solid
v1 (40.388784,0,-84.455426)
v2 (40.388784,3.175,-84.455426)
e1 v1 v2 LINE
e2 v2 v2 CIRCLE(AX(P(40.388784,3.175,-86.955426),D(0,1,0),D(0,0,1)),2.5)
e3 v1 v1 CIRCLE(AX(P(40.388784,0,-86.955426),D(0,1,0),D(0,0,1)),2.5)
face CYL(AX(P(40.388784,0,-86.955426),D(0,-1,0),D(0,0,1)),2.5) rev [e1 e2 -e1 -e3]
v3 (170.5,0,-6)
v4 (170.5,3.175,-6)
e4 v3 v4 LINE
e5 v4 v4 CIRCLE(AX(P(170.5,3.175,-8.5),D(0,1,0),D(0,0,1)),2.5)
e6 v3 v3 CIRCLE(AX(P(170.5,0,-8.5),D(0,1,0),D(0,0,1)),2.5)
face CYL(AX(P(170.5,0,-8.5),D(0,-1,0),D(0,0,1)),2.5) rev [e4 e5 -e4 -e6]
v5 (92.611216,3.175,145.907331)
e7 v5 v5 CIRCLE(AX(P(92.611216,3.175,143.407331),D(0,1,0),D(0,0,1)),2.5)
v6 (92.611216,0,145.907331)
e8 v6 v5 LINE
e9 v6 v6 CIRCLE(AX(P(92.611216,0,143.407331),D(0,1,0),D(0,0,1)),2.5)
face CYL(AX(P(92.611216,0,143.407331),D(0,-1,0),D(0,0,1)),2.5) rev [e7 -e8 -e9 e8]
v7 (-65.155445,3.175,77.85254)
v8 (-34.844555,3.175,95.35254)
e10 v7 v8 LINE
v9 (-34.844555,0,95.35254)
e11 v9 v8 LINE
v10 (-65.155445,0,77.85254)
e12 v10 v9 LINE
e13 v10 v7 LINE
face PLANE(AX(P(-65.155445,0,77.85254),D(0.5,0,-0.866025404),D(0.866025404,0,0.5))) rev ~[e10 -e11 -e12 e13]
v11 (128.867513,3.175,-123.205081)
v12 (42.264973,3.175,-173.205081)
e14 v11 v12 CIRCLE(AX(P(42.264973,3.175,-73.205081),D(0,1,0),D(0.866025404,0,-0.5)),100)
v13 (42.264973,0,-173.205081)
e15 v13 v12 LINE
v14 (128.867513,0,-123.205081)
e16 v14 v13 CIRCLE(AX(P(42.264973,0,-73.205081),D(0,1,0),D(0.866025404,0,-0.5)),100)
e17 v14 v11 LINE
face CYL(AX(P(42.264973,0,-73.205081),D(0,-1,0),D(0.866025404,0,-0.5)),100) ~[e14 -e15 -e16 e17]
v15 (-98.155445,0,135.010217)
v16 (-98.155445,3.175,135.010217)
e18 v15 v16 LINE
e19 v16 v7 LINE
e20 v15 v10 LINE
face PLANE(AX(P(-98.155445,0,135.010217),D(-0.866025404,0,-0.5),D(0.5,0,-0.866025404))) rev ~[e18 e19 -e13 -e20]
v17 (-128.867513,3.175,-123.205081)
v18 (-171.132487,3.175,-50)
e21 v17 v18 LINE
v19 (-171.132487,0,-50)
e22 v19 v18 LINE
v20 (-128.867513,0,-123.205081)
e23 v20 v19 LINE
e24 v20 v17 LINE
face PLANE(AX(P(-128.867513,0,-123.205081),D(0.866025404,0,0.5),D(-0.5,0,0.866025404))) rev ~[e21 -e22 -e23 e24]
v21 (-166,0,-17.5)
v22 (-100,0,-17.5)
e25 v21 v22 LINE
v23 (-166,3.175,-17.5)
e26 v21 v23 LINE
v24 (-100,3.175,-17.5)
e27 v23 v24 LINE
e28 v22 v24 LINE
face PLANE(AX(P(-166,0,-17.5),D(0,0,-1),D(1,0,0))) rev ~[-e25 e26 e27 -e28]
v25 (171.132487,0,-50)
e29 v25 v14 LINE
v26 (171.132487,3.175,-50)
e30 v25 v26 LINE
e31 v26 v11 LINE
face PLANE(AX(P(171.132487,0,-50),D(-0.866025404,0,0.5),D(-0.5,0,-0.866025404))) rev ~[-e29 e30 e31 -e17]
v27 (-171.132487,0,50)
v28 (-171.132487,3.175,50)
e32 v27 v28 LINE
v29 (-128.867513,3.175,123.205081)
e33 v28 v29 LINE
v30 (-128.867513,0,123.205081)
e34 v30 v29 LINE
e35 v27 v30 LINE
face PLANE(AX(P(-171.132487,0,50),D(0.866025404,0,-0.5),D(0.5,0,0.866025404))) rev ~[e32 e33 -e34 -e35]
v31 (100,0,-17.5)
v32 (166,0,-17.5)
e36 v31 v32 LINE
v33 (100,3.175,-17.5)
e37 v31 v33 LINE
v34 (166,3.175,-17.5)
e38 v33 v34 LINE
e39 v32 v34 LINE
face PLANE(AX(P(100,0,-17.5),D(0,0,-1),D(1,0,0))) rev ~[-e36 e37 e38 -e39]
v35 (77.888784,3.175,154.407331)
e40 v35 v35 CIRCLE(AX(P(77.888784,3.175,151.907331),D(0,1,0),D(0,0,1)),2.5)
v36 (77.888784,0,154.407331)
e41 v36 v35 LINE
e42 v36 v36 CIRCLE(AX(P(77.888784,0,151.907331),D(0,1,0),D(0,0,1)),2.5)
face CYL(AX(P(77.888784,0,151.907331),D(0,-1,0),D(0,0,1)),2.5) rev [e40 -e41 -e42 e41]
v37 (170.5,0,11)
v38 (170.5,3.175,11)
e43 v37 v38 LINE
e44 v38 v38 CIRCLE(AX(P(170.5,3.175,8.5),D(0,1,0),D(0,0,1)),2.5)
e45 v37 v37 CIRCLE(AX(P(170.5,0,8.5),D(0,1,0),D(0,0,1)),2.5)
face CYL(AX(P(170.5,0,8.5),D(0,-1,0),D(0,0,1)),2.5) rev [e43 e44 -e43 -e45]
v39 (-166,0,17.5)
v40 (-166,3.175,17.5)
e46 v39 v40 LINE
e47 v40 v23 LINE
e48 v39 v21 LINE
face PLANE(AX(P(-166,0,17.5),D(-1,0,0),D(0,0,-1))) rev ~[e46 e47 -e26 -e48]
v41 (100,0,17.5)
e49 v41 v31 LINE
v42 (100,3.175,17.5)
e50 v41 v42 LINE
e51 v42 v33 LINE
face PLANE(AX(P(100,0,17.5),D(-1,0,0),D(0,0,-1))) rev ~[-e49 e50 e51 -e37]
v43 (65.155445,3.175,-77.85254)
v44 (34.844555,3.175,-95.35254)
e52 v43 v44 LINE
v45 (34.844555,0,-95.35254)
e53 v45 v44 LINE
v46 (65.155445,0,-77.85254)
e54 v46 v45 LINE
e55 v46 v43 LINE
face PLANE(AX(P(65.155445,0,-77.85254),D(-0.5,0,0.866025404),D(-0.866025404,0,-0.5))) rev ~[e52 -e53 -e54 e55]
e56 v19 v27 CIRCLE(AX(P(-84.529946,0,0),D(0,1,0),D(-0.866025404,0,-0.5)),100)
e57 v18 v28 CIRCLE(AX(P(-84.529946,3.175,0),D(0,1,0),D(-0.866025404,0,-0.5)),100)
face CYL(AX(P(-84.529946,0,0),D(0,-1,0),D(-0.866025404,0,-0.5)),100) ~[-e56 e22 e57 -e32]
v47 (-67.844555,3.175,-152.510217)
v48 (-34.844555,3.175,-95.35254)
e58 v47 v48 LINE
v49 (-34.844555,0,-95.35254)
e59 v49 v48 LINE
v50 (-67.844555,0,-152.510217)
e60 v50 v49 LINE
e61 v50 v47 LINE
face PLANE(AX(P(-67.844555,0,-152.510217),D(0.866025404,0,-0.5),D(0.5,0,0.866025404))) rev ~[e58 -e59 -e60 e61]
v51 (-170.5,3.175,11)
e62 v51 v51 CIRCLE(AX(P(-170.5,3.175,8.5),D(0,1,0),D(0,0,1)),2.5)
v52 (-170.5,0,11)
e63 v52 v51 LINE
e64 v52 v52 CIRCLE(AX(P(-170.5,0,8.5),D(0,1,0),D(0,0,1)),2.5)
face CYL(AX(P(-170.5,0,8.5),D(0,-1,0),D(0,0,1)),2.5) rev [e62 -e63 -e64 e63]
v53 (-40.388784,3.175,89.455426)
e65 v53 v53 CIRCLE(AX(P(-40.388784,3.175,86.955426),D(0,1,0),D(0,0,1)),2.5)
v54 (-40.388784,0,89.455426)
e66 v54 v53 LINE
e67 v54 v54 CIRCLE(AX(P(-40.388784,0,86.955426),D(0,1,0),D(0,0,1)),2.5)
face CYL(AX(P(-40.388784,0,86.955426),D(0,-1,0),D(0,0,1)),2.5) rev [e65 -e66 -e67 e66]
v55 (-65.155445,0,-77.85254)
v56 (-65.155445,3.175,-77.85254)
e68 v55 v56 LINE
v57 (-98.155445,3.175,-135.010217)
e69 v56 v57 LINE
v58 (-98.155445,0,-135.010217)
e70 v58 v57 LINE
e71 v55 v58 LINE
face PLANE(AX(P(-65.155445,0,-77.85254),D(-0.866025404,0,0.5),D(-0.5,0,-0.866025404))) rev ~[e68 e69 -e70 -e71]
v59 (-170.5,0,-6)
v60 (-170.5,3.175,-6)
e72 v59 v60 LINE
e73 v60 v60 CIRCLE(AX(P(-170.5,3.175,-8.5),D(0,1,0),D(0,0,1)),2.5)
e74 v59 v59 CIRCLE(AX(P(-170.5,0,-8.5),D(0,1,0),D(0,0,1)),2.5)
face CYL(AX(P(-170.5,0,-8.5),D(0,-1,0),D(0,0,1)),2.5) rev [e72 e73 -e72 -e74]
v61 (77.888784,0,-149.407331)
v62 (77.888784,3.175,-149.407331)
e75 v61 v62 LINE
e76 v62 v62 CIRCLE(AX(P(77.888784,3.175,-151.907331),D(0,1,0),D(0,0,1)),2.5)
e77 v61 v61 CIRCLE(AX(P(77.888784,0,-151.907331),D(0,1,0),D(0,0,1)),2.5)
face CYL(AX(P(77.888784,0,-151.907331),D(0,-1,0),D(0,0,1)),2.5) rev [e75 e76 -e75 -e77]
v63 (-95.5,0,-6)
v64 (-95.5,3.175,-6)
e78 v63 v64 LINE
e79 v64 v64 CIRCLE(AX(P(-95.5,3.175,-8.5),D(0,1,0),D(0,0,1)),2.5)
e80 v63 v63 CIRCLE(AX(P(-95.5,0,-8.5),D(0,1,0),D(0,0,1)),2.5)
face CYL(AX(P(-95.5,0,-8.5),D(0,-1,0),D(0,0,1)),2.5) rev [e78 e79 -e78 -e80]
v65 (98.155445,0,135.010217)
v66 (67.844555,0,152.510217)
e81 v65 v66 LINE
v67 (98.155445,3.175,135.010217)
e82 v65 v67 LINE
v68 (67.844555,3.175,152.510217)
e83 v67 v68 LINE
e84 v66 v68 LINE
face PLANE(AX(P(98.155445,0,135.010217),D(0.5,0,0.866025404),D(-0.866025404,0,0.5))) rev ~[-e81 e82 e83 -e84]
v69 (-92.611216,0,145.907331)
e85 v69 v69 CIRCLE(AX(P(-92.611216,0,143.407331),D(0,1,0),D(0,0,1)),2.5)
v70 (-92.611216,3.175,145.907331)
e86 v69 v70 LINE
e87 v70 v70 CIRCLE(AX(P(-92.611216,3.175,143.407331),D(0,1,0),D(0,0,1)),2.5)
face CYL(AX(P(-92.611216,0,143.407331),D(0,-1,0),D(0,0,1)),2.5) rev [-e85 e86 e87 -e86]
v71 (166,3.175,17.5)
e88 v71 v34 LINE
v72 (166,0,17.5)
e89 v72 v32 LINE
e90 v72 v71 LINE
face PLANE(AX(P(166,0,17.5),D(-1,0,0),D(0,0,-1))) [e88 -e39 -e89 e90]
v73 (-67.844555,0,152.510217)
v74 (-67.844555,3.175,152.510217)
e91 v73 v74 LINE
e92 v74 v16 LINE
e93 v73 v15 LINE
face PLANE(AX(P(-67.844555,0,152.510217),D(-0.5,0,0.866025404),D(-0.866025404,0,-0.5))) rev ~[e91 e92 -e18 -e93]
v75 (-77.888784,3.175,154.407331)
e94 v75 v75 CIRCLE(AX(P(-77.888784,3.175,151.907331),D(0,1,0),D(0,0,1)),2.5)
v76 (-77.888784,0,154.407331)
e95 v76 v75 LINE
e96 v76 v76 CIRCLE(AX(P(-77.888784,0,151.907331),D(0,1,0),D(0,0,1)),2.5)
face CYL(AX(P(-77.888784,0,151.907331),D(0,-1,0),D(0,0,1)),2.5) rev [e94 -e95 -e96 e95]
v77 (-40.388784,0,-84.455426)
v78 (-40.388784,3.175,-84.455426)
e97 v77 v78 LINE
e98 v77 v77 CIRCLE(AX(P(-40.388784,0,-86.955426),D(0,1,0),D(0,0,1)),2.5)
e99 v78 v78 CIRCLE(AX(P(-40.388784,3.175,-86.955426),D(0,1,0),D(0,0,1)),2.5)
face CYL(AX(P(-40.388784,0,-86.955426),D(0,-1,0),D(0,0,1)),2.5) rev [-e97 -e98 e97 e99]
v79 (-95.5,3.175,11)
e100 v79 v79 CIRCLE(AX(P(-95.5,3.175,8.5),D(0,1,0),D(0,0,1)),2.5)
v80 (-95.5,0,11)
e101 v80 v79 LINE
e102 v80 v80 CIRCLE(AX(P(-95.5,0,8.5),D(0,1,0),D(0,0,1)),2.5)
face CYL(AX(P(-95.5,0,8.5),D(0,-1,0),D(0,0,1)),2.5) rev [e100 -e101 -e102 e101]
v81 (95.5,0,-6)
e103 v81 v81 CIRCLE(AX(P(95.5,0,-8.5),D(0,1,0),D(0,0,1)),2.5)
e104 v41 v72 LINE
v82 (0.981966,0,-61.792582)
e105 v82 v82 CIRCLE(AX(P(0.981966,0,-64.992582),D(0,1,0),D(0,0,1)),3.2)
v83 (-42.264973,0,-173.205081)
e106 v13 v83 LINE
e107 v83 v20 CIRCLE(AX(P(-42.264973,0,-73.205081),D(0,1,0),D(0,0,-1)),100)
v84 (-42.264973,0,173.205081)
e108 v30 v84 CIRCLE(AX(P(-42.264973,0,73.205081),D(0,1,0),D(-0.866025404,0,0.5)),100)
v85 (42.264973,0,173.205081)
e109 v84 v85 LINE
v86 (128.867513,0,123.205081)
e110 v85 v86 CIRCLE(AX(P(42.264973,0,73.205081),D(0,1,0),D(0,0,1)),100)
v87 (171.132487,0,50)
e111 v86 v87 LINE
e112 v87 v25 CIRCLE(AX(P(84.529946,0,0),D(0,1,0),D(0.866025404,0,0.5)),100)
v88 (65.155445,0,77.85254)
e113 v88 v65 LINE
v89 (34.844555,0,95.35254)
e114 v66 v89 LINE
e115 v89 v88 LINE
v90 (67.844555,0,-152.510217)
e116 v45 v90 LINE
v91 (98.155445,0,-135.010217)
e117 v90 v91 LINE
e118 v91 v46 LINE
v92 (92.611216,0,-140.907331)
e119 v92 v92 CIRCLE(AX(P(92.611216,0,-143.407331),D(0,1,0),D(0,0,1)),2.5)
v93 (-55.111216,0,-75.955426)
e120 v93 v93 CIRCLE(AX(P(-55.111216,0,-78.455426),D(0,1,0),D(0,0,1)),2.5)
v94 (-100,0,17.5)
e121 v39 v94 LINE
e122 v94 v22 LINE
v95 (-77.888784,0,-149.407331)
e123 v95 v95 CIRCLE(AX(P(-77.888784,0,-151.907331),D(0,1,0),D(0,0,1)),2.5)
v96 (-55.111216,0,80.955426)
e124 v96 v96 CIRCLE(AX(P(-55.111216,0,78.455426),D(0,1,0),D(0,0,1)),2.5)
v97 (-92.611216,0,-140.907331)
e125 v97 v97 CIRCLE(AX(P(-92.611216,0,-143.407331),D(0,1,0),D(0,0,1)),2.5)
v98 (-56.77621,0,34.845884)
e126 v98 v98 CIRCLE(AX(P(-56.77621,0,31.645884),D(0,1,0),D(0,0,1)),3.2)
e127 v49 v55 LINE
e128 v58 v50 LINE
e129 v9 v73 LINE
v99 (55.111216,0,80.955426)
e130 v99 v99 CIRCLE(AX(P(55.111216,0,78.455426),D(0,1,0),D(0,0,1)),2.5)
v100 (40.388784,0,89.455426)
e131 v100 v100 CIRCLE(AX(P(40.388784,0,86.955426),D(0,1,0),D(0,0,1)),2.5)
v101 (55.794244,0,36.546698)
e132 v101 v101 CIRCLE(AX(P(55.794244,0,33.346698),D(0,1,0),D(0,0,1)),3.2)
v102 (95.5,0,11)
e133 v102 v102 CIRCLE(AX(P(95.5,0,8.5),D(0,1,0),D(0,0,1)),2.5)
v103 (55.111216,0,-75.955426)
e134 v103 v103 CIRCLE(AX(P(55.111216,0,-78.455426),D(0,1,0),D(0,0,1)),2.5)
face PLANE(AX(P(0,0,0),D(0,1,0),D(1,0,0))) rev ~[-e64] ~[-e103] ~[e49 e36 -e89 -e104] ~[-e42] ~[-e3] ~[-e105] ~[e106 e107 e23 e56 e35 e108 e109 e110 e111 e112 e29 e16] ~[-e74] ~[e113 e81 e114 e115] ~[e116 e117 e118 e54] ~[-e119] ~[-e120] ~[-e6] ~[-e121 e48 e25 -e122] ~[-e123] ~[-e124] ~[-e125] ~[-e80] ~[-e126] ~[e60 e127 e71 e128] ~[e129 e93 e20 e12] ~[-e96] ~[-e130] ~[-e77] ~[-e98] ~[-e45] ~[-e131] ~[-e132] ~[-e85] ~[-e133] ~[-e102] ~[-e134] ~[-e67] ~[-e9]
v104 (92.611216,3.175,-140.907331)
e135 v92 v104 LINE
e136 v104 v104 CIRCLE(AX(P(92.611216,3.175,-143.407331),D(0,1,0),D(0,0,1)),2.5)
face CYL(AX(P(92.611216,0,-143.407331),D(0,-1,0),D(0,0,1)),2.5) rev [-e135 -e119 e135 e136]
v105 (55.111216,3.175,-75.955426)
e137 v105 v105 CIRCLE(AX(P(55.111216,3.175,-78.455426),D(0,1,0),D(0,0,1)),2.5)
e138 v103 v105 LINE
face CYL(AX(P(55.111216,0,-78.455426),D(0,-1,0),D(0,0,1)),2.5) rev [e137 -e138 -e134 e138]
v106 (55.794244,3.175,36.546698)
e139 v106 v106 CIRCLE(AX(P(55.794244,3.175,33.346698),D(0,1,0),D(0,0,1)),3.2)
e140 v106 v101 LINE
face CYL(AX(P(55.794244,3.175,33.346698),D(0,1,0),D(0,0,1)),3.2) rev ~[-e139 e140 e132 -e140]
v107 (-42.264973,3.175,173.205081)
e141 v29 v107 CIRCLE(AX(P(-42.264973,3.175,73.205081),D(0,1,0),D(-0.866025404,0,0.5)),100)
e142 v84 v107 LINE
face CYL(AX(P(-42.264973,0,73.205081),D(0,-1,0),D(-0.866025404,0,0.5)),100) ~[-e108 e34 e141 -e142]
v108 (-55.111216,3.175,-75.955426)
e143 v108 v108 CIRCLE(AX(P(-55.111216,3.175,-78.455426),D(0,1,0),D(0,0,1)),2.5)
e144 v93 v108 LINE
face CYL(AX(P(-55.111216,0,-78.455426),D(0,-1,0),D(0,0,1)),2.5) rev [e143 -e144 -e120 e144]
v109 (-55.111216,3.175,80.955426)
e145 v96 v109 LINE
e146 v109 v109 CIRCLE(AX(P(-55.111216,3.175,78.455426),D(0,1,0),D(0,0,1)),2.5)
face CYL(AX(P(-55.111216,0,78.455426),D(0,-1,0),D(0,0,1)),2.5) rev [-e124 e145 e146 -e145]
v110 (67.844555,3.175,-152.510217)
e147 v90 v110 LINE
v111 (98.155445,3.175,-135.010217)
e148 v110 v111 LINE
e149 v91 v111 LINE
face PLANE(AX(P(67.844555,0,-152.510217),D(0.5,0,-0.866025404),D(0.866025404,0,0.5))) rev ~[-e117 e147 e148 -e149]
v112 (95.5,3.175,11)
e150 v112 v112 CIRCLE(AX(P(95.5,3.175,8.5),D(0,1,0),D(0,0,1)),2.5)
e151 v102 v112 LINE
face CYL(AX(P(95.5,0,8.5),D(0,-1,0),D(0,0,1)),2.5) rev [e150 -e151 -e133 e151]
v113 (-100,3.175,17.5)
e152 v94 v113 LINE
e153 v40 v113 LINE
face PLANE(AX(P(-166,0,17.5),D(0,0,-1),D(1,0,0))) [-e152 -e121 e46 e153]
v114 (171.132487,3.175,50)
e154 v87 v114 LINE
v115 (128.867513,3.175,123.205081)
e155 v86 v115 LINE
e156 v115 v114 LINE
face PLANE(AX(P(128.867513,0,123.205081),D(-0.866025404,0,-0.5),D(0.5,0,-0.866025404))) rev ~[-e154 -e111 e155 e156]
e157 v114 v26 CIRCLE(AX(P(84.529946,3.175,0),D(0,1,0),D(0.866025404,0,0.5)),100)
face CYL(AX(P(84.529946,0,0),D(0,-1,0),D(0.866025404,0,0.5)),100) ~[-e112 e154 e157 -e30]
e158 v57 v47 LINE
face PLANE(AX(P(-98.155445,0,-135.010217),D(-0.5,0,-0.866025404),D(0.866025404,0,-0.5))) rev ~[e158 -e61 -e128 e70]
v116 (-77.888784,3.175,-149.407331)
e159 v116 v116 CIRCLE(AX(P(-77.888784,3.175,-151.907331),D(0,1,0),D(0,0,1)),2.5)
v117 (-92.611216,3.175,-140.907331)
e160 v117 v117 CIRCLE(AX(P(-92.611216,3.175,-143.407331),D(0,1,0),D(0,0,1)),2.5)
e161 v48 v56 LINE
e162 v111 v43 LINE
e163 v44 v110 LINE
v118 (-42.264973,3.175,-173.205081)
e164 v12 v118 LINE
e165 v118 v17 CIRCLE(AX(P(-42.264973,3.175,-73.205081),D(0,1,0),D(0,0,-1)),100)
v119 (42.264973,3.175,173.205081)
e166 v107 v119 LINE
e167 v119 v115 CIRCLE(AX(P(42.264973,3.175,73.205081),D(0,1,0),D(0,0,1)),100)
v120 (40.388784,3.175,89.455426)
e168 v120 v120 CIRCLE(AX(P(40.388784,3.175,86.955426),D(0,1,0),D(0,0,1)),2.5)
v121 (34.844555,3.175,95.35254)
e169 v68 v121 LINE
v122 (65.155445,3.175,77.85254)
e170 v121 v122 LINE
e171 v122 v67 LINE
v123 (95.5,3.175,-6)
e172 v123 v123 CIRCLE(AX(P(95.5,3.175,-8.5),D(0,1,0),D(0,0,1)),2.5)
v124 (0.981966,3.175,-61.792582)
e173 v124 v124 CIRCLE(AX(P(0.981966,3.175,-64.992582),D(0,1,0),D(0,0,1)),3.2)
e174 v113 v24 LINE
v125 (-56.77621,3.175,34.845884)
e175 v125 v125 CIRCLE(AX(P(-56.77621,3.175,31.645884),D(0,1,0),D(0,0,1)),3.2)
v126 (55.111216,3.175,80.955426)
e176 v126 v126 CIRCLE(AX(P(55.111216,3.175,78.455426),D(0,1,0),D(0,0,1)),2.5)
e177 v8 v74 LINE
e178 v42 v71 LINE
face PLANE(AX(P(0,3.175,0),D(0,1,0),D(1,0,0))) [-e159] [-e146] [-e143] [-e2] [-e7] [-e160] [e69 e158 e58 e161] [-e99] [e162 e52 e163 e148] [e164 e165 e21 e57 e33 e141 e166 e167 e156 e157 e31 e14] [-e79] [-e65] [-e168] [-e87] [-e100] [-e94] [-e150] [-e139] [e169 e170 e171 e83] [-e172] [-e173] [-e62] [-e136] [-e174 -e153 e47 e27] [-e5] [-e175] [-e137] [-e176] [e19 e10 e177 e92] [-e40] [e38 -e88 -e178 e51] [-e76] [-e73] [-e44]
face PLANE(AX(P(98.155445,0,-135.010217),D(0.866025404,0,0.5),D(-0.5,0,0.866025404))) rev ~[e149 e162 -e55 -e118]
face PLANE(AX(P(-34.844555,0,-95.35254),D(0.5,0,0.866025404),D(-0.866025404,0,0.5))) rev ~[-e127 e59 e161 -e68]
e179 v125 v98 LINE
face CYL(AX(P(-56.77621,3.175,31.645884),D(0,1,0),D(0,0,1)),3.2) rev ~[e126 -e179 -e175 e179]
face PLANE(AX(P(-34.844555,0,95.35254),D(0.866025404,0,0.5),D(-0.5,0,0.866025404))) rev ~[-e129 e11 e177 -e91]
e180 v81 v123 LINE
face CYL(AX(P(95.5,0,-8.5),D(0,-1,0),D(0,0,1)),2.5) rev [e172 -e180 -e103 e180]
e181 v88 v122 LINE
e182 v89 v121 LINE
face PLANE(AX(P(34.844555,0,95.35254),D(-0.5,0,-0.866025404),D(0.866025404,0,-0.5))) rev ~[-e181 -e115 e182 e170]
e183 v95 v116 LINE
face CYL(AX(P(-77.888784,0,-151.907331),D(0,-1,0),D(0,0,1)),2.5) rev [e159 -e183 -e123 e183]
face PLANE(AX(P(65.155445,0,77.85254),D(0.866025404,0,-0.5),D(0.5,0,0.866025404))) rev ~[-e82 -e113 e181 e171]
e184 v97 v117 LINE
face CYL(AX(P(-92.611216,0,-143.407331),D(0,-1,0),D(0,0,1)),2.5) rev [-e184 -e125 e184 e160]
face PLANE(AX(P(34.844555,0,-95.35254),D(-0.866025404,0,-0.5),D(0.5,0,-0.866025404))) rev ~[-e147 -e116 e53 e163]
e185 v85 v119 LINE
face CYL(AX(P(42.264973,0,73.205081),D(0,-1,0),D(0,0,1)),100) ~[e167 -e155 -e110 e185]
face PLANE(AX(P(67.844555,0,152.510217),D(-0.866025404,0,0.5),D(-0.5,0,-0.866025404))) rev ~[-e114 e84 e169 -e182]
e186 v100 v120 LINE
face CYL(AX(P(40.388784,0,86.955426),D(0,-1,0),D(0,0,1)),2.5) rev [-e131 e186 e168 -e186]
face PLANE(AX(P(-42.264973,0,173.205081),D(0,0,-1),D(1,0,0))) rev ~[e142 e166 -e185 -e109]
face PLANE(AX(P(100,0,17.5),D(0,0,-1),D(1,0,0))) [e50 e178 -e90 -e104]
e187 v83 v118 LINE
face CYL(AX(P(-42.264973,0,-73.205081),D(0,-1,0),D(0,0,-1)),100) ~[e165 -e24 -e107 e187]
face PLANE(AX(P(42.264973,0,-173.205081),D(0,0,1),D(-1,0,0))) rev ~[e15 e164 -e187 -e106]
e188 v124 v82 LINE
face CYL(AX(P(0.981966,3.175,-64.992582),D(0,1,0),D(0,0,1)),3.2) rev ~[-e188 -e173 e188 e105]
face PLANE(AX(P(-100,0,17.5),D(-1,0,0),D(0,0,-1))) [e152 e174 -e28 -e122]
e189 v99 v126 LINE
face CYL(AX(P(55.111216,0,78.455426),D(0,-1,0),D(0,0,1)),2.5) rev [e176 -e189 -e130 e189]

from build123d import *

# Parameters (mm, degrees)
SKETCH1_R           = 2.5
SKETCH1_W           = 66
SKETCH1_H           = 35
BOSS_EXTRUDE1_DEPTH = 3.175
SKETCH2_R           = 3.2
CUT_EXTRUDE1_DEPTH  = 3.175


with BuildPart() as part:
    # Sketch1 → Boss-Extrude1 (new body)
    with BuildSketch(Plane(origin=(0, 0, 0), x_dir=(1, 0, 0), z_dir=(0, 1, 0))):
        with BuildLine():
            Line((171.132486541, 50), (128.867513459, 123.205080757))
            ThreePointArc((128.867513459, 123.205080757), (92.264973081, 159.807621135), (42.264973081, 173.205080757))
            Line((42.264973081, 173.205080757), (-42.264973081, 173.205080757))
            ThreePointArc((-42.264973081, 173.205080757), (-92.264973081, 159.807621135), (-128.867513459, 123.205080757))
            Line((-128.867513459, 123.205080757), (-171.132486541, 50))
            ThreePointArc((-171.132486541, 50), (-184.529946162, 0), (-171.132486541, -50))
            Line((-171.132486541, -50), (-128.867513459, -123.205080757))
            ThreePointArc((-128.867513459, -123.205080757), (-92.264973081, -159.807621135), (-42.264973081, -173.205080757))
            Line((-42.264973081, -173.205080757), (42.264973081, -173.205080757))
            ThreePointArc((42.264973081, -173.205080757), (92.264973081, -159.807621135), (128.867513459, -123.205080757))
            Line((128.867513459, -123.205080757), (171.132486541, -50))
            ThreePointArc((171.132486541, -50), (184.529946162, 0), (171.132486541, 50))
        make_face()
        with Locations(Location((170.5, 8.5, 0), (0, 0, 270))):
            Circle(SKETCH1_R, mode=Mode.SUBTRACT)
        with Locations(Location((170.5, -8.5, 0), (0, 0, 270))):
            Circle(SKETCH1_R, mode=Mode.SUBTRACT)
        with Locations(Location((95.5, 8.5, 0), (0, 0, 270))):
            Circle(SKETCH1_R, mode=Mode.SUBTRACT)
        with Locations(Location((95.5, -8.5, 0), (0, 0, 270))):
            Circle(SKETCH1_R, mode=Mode.SUBTRACT)
        with Locations(Location((40.388784068, -86.955426061, 0), (0, 0, 270))):
            Circle(SKETCH1_R, mode=Mode.SUBTRACT)
        with Locations(Location((55.111215932, -78.455426061, 0), (0, 0, 270))):
            Circle(SKETCH1_R, mode=Mode.SUBTRACT)
        with Locations(Location((92.611215932, -143.407331345, 0), (0, 0, 270))):
            Circle(SKETCH1_R, mode=Mode.SUBTRACT)
        with Locations(Location((77.888784068, -151.907331345, 0), (0, 0, 270))):
            Circle(SKETCH1_R, mode=Mode.SUBTRACT)
        with Locations(Location((-55.111215932, -78.455426061, 0), (0, 0, 270))):
            Circle(SKETCH1_R, mode=Mode.SUBTRACT)
        with Locations(Location((-40.388784068, -86.955426061, 0), (0, 0, 270))):
            Circle(SKETCH1_R, mode=Mode.SUBTRACT)
        with Locations(Location((-77.888784068, -151.907331345, 0), (0, 0, 270))):
            Circle(SKETCH1_R, mode=Mode.SUBTRACT)
        with Locations(Location((-92.611215932, -143.407331345, 0), (0, 0, 270))):
            Circle(SKETCH1_R, mode=Mode.SUBTRACT)
        with Locations(Location((-95.5, 8.5, 0), (0, 0, 270))):
            Circle(SKETCH1_R, mode=Mode.SUBTRACT)
        with Locations(Location((-95.5, -8.5, 0), (0, 0, 270))):
            Circle(SKETCH1_R, mode=Mode.SUBTRACT)
        with Locations(Location((-170.5, -8.5, 0), (0, 0, 270))):
            Circle(SKETCH1_R, mode=Mode.SUBTRACT)
        with Locations(Location((-170.5, 8.5, 0), (0, 0, 270))):
            Circle(SKETCH1_R, mode=Mode.SUBTRACT)
        with Locations(Location((-40.388784068, 86.955426061, 0), (0, 0, 270))):
            Circle(SKETCH1_R, mode=Mode.SUBTRACT)
        with Locations(Location((-55.111215932, 78.455426061, 0), (0, 0, 270))):
            Circle(SKETCH1_R, mode=Mode.SUBTRACT)
        with Locations(Location((-92.611215932, 143.407331345, 0), (0, 0, 270))):
            Circle(SKETCH1_R, mode=Mode.SUBTRACT)
        with Locations(Location((-77.888784068, 151.907331345, 0), (0, 0, 270))):
            Circle(SKETCH1_R, mode=Mode.SUBTRACT)
        with Locations(Location((55.111215932, 78.455426061, 0), (0, 0, 270))):
            Circle(SKETCH1_R, mode=Mode.SUBTRACT)
        with Locations(Location((40.388784068, 86.955426061, 0), (0, 0, 270))):
            Circle(SKETCH1_R, mode=Mode.SUBTRACT)
        with Locations(Location((77.888784068, 151.907331345, 0), (0, 0, 270))):
            Circle(SKETCH1_R, mode=Mode.SUBTRACT)
        with Locations(Location((92.611215932, 143.407331345, 0), (0, 0, 270))):
            Circle(SKETCH1_R, mode=Mode.SUBTRACT)
        with Locations((133, 0)):
            Rectangle(SKETCH1_W, SKETCH1_H, mode=Mode.SUBTRACT)
        Polygon((65.155444566, -77.852540378), (98.155444566, -135.010217028), (67.844555434, -152.510217028), (34.844555434, -95.352540378), align=None, mode=Mode.SUBTRACT)
        Polygon((-34.844555434, -95.352540378), (-67.844555434, -152.510217028), (-98.155444566, -135.010217028), (-65.155444566, -77.852540378), align=None, mode=Mode.SUBTRACT)
        with Locations((-133, 0)):
            Rectangle(SKETCH1_W, SKETCH1_H, mode=Mode.SUBTRACT)
        Polygon((-65.155444566, 77.852540378), (-98.155444566, 135.010217028), (-67.844555434, 152.510217028), (-34.844555434, 95.352540378), align=None, mode=Mode.SUBTRACT)
        Polygon((34.844555434, 95.352540378), (67.844555434, 152.510217028), (98.155444566, 135.010217028), (65.155444566, 77.852540378), align=None, mode=Mode.SUBTRACT)
    extrude(amount=BOSS_EXTRUDE1_DEPTH)

    # Sketch2 → Cut-Extrude1 (cut)
    with BuildSketch(Plane(origin=(0, 3.175, 0), x_dir=(1, 0, 0), z_dir=(0, 1, 0))):
        with Locations(Location((55.794244464, -33.346698257, 0), (0, 0, 270))):
            Circle(SKETCH2_R)
        with Locations(Location((-56.776210055, -31.645883963, 0), (0, 0, 270))):
            Circle(SKETCH2_R)
        with Locations(Location((0.981965591, 64.99258222, 0), (0, 0, 270))):
            Circle(SKETCH2_R)
    extrude(amount=-CUT_EXTRUDE1_DEPTH, mode=Mode.SUBTRACT)


solid = part.part
